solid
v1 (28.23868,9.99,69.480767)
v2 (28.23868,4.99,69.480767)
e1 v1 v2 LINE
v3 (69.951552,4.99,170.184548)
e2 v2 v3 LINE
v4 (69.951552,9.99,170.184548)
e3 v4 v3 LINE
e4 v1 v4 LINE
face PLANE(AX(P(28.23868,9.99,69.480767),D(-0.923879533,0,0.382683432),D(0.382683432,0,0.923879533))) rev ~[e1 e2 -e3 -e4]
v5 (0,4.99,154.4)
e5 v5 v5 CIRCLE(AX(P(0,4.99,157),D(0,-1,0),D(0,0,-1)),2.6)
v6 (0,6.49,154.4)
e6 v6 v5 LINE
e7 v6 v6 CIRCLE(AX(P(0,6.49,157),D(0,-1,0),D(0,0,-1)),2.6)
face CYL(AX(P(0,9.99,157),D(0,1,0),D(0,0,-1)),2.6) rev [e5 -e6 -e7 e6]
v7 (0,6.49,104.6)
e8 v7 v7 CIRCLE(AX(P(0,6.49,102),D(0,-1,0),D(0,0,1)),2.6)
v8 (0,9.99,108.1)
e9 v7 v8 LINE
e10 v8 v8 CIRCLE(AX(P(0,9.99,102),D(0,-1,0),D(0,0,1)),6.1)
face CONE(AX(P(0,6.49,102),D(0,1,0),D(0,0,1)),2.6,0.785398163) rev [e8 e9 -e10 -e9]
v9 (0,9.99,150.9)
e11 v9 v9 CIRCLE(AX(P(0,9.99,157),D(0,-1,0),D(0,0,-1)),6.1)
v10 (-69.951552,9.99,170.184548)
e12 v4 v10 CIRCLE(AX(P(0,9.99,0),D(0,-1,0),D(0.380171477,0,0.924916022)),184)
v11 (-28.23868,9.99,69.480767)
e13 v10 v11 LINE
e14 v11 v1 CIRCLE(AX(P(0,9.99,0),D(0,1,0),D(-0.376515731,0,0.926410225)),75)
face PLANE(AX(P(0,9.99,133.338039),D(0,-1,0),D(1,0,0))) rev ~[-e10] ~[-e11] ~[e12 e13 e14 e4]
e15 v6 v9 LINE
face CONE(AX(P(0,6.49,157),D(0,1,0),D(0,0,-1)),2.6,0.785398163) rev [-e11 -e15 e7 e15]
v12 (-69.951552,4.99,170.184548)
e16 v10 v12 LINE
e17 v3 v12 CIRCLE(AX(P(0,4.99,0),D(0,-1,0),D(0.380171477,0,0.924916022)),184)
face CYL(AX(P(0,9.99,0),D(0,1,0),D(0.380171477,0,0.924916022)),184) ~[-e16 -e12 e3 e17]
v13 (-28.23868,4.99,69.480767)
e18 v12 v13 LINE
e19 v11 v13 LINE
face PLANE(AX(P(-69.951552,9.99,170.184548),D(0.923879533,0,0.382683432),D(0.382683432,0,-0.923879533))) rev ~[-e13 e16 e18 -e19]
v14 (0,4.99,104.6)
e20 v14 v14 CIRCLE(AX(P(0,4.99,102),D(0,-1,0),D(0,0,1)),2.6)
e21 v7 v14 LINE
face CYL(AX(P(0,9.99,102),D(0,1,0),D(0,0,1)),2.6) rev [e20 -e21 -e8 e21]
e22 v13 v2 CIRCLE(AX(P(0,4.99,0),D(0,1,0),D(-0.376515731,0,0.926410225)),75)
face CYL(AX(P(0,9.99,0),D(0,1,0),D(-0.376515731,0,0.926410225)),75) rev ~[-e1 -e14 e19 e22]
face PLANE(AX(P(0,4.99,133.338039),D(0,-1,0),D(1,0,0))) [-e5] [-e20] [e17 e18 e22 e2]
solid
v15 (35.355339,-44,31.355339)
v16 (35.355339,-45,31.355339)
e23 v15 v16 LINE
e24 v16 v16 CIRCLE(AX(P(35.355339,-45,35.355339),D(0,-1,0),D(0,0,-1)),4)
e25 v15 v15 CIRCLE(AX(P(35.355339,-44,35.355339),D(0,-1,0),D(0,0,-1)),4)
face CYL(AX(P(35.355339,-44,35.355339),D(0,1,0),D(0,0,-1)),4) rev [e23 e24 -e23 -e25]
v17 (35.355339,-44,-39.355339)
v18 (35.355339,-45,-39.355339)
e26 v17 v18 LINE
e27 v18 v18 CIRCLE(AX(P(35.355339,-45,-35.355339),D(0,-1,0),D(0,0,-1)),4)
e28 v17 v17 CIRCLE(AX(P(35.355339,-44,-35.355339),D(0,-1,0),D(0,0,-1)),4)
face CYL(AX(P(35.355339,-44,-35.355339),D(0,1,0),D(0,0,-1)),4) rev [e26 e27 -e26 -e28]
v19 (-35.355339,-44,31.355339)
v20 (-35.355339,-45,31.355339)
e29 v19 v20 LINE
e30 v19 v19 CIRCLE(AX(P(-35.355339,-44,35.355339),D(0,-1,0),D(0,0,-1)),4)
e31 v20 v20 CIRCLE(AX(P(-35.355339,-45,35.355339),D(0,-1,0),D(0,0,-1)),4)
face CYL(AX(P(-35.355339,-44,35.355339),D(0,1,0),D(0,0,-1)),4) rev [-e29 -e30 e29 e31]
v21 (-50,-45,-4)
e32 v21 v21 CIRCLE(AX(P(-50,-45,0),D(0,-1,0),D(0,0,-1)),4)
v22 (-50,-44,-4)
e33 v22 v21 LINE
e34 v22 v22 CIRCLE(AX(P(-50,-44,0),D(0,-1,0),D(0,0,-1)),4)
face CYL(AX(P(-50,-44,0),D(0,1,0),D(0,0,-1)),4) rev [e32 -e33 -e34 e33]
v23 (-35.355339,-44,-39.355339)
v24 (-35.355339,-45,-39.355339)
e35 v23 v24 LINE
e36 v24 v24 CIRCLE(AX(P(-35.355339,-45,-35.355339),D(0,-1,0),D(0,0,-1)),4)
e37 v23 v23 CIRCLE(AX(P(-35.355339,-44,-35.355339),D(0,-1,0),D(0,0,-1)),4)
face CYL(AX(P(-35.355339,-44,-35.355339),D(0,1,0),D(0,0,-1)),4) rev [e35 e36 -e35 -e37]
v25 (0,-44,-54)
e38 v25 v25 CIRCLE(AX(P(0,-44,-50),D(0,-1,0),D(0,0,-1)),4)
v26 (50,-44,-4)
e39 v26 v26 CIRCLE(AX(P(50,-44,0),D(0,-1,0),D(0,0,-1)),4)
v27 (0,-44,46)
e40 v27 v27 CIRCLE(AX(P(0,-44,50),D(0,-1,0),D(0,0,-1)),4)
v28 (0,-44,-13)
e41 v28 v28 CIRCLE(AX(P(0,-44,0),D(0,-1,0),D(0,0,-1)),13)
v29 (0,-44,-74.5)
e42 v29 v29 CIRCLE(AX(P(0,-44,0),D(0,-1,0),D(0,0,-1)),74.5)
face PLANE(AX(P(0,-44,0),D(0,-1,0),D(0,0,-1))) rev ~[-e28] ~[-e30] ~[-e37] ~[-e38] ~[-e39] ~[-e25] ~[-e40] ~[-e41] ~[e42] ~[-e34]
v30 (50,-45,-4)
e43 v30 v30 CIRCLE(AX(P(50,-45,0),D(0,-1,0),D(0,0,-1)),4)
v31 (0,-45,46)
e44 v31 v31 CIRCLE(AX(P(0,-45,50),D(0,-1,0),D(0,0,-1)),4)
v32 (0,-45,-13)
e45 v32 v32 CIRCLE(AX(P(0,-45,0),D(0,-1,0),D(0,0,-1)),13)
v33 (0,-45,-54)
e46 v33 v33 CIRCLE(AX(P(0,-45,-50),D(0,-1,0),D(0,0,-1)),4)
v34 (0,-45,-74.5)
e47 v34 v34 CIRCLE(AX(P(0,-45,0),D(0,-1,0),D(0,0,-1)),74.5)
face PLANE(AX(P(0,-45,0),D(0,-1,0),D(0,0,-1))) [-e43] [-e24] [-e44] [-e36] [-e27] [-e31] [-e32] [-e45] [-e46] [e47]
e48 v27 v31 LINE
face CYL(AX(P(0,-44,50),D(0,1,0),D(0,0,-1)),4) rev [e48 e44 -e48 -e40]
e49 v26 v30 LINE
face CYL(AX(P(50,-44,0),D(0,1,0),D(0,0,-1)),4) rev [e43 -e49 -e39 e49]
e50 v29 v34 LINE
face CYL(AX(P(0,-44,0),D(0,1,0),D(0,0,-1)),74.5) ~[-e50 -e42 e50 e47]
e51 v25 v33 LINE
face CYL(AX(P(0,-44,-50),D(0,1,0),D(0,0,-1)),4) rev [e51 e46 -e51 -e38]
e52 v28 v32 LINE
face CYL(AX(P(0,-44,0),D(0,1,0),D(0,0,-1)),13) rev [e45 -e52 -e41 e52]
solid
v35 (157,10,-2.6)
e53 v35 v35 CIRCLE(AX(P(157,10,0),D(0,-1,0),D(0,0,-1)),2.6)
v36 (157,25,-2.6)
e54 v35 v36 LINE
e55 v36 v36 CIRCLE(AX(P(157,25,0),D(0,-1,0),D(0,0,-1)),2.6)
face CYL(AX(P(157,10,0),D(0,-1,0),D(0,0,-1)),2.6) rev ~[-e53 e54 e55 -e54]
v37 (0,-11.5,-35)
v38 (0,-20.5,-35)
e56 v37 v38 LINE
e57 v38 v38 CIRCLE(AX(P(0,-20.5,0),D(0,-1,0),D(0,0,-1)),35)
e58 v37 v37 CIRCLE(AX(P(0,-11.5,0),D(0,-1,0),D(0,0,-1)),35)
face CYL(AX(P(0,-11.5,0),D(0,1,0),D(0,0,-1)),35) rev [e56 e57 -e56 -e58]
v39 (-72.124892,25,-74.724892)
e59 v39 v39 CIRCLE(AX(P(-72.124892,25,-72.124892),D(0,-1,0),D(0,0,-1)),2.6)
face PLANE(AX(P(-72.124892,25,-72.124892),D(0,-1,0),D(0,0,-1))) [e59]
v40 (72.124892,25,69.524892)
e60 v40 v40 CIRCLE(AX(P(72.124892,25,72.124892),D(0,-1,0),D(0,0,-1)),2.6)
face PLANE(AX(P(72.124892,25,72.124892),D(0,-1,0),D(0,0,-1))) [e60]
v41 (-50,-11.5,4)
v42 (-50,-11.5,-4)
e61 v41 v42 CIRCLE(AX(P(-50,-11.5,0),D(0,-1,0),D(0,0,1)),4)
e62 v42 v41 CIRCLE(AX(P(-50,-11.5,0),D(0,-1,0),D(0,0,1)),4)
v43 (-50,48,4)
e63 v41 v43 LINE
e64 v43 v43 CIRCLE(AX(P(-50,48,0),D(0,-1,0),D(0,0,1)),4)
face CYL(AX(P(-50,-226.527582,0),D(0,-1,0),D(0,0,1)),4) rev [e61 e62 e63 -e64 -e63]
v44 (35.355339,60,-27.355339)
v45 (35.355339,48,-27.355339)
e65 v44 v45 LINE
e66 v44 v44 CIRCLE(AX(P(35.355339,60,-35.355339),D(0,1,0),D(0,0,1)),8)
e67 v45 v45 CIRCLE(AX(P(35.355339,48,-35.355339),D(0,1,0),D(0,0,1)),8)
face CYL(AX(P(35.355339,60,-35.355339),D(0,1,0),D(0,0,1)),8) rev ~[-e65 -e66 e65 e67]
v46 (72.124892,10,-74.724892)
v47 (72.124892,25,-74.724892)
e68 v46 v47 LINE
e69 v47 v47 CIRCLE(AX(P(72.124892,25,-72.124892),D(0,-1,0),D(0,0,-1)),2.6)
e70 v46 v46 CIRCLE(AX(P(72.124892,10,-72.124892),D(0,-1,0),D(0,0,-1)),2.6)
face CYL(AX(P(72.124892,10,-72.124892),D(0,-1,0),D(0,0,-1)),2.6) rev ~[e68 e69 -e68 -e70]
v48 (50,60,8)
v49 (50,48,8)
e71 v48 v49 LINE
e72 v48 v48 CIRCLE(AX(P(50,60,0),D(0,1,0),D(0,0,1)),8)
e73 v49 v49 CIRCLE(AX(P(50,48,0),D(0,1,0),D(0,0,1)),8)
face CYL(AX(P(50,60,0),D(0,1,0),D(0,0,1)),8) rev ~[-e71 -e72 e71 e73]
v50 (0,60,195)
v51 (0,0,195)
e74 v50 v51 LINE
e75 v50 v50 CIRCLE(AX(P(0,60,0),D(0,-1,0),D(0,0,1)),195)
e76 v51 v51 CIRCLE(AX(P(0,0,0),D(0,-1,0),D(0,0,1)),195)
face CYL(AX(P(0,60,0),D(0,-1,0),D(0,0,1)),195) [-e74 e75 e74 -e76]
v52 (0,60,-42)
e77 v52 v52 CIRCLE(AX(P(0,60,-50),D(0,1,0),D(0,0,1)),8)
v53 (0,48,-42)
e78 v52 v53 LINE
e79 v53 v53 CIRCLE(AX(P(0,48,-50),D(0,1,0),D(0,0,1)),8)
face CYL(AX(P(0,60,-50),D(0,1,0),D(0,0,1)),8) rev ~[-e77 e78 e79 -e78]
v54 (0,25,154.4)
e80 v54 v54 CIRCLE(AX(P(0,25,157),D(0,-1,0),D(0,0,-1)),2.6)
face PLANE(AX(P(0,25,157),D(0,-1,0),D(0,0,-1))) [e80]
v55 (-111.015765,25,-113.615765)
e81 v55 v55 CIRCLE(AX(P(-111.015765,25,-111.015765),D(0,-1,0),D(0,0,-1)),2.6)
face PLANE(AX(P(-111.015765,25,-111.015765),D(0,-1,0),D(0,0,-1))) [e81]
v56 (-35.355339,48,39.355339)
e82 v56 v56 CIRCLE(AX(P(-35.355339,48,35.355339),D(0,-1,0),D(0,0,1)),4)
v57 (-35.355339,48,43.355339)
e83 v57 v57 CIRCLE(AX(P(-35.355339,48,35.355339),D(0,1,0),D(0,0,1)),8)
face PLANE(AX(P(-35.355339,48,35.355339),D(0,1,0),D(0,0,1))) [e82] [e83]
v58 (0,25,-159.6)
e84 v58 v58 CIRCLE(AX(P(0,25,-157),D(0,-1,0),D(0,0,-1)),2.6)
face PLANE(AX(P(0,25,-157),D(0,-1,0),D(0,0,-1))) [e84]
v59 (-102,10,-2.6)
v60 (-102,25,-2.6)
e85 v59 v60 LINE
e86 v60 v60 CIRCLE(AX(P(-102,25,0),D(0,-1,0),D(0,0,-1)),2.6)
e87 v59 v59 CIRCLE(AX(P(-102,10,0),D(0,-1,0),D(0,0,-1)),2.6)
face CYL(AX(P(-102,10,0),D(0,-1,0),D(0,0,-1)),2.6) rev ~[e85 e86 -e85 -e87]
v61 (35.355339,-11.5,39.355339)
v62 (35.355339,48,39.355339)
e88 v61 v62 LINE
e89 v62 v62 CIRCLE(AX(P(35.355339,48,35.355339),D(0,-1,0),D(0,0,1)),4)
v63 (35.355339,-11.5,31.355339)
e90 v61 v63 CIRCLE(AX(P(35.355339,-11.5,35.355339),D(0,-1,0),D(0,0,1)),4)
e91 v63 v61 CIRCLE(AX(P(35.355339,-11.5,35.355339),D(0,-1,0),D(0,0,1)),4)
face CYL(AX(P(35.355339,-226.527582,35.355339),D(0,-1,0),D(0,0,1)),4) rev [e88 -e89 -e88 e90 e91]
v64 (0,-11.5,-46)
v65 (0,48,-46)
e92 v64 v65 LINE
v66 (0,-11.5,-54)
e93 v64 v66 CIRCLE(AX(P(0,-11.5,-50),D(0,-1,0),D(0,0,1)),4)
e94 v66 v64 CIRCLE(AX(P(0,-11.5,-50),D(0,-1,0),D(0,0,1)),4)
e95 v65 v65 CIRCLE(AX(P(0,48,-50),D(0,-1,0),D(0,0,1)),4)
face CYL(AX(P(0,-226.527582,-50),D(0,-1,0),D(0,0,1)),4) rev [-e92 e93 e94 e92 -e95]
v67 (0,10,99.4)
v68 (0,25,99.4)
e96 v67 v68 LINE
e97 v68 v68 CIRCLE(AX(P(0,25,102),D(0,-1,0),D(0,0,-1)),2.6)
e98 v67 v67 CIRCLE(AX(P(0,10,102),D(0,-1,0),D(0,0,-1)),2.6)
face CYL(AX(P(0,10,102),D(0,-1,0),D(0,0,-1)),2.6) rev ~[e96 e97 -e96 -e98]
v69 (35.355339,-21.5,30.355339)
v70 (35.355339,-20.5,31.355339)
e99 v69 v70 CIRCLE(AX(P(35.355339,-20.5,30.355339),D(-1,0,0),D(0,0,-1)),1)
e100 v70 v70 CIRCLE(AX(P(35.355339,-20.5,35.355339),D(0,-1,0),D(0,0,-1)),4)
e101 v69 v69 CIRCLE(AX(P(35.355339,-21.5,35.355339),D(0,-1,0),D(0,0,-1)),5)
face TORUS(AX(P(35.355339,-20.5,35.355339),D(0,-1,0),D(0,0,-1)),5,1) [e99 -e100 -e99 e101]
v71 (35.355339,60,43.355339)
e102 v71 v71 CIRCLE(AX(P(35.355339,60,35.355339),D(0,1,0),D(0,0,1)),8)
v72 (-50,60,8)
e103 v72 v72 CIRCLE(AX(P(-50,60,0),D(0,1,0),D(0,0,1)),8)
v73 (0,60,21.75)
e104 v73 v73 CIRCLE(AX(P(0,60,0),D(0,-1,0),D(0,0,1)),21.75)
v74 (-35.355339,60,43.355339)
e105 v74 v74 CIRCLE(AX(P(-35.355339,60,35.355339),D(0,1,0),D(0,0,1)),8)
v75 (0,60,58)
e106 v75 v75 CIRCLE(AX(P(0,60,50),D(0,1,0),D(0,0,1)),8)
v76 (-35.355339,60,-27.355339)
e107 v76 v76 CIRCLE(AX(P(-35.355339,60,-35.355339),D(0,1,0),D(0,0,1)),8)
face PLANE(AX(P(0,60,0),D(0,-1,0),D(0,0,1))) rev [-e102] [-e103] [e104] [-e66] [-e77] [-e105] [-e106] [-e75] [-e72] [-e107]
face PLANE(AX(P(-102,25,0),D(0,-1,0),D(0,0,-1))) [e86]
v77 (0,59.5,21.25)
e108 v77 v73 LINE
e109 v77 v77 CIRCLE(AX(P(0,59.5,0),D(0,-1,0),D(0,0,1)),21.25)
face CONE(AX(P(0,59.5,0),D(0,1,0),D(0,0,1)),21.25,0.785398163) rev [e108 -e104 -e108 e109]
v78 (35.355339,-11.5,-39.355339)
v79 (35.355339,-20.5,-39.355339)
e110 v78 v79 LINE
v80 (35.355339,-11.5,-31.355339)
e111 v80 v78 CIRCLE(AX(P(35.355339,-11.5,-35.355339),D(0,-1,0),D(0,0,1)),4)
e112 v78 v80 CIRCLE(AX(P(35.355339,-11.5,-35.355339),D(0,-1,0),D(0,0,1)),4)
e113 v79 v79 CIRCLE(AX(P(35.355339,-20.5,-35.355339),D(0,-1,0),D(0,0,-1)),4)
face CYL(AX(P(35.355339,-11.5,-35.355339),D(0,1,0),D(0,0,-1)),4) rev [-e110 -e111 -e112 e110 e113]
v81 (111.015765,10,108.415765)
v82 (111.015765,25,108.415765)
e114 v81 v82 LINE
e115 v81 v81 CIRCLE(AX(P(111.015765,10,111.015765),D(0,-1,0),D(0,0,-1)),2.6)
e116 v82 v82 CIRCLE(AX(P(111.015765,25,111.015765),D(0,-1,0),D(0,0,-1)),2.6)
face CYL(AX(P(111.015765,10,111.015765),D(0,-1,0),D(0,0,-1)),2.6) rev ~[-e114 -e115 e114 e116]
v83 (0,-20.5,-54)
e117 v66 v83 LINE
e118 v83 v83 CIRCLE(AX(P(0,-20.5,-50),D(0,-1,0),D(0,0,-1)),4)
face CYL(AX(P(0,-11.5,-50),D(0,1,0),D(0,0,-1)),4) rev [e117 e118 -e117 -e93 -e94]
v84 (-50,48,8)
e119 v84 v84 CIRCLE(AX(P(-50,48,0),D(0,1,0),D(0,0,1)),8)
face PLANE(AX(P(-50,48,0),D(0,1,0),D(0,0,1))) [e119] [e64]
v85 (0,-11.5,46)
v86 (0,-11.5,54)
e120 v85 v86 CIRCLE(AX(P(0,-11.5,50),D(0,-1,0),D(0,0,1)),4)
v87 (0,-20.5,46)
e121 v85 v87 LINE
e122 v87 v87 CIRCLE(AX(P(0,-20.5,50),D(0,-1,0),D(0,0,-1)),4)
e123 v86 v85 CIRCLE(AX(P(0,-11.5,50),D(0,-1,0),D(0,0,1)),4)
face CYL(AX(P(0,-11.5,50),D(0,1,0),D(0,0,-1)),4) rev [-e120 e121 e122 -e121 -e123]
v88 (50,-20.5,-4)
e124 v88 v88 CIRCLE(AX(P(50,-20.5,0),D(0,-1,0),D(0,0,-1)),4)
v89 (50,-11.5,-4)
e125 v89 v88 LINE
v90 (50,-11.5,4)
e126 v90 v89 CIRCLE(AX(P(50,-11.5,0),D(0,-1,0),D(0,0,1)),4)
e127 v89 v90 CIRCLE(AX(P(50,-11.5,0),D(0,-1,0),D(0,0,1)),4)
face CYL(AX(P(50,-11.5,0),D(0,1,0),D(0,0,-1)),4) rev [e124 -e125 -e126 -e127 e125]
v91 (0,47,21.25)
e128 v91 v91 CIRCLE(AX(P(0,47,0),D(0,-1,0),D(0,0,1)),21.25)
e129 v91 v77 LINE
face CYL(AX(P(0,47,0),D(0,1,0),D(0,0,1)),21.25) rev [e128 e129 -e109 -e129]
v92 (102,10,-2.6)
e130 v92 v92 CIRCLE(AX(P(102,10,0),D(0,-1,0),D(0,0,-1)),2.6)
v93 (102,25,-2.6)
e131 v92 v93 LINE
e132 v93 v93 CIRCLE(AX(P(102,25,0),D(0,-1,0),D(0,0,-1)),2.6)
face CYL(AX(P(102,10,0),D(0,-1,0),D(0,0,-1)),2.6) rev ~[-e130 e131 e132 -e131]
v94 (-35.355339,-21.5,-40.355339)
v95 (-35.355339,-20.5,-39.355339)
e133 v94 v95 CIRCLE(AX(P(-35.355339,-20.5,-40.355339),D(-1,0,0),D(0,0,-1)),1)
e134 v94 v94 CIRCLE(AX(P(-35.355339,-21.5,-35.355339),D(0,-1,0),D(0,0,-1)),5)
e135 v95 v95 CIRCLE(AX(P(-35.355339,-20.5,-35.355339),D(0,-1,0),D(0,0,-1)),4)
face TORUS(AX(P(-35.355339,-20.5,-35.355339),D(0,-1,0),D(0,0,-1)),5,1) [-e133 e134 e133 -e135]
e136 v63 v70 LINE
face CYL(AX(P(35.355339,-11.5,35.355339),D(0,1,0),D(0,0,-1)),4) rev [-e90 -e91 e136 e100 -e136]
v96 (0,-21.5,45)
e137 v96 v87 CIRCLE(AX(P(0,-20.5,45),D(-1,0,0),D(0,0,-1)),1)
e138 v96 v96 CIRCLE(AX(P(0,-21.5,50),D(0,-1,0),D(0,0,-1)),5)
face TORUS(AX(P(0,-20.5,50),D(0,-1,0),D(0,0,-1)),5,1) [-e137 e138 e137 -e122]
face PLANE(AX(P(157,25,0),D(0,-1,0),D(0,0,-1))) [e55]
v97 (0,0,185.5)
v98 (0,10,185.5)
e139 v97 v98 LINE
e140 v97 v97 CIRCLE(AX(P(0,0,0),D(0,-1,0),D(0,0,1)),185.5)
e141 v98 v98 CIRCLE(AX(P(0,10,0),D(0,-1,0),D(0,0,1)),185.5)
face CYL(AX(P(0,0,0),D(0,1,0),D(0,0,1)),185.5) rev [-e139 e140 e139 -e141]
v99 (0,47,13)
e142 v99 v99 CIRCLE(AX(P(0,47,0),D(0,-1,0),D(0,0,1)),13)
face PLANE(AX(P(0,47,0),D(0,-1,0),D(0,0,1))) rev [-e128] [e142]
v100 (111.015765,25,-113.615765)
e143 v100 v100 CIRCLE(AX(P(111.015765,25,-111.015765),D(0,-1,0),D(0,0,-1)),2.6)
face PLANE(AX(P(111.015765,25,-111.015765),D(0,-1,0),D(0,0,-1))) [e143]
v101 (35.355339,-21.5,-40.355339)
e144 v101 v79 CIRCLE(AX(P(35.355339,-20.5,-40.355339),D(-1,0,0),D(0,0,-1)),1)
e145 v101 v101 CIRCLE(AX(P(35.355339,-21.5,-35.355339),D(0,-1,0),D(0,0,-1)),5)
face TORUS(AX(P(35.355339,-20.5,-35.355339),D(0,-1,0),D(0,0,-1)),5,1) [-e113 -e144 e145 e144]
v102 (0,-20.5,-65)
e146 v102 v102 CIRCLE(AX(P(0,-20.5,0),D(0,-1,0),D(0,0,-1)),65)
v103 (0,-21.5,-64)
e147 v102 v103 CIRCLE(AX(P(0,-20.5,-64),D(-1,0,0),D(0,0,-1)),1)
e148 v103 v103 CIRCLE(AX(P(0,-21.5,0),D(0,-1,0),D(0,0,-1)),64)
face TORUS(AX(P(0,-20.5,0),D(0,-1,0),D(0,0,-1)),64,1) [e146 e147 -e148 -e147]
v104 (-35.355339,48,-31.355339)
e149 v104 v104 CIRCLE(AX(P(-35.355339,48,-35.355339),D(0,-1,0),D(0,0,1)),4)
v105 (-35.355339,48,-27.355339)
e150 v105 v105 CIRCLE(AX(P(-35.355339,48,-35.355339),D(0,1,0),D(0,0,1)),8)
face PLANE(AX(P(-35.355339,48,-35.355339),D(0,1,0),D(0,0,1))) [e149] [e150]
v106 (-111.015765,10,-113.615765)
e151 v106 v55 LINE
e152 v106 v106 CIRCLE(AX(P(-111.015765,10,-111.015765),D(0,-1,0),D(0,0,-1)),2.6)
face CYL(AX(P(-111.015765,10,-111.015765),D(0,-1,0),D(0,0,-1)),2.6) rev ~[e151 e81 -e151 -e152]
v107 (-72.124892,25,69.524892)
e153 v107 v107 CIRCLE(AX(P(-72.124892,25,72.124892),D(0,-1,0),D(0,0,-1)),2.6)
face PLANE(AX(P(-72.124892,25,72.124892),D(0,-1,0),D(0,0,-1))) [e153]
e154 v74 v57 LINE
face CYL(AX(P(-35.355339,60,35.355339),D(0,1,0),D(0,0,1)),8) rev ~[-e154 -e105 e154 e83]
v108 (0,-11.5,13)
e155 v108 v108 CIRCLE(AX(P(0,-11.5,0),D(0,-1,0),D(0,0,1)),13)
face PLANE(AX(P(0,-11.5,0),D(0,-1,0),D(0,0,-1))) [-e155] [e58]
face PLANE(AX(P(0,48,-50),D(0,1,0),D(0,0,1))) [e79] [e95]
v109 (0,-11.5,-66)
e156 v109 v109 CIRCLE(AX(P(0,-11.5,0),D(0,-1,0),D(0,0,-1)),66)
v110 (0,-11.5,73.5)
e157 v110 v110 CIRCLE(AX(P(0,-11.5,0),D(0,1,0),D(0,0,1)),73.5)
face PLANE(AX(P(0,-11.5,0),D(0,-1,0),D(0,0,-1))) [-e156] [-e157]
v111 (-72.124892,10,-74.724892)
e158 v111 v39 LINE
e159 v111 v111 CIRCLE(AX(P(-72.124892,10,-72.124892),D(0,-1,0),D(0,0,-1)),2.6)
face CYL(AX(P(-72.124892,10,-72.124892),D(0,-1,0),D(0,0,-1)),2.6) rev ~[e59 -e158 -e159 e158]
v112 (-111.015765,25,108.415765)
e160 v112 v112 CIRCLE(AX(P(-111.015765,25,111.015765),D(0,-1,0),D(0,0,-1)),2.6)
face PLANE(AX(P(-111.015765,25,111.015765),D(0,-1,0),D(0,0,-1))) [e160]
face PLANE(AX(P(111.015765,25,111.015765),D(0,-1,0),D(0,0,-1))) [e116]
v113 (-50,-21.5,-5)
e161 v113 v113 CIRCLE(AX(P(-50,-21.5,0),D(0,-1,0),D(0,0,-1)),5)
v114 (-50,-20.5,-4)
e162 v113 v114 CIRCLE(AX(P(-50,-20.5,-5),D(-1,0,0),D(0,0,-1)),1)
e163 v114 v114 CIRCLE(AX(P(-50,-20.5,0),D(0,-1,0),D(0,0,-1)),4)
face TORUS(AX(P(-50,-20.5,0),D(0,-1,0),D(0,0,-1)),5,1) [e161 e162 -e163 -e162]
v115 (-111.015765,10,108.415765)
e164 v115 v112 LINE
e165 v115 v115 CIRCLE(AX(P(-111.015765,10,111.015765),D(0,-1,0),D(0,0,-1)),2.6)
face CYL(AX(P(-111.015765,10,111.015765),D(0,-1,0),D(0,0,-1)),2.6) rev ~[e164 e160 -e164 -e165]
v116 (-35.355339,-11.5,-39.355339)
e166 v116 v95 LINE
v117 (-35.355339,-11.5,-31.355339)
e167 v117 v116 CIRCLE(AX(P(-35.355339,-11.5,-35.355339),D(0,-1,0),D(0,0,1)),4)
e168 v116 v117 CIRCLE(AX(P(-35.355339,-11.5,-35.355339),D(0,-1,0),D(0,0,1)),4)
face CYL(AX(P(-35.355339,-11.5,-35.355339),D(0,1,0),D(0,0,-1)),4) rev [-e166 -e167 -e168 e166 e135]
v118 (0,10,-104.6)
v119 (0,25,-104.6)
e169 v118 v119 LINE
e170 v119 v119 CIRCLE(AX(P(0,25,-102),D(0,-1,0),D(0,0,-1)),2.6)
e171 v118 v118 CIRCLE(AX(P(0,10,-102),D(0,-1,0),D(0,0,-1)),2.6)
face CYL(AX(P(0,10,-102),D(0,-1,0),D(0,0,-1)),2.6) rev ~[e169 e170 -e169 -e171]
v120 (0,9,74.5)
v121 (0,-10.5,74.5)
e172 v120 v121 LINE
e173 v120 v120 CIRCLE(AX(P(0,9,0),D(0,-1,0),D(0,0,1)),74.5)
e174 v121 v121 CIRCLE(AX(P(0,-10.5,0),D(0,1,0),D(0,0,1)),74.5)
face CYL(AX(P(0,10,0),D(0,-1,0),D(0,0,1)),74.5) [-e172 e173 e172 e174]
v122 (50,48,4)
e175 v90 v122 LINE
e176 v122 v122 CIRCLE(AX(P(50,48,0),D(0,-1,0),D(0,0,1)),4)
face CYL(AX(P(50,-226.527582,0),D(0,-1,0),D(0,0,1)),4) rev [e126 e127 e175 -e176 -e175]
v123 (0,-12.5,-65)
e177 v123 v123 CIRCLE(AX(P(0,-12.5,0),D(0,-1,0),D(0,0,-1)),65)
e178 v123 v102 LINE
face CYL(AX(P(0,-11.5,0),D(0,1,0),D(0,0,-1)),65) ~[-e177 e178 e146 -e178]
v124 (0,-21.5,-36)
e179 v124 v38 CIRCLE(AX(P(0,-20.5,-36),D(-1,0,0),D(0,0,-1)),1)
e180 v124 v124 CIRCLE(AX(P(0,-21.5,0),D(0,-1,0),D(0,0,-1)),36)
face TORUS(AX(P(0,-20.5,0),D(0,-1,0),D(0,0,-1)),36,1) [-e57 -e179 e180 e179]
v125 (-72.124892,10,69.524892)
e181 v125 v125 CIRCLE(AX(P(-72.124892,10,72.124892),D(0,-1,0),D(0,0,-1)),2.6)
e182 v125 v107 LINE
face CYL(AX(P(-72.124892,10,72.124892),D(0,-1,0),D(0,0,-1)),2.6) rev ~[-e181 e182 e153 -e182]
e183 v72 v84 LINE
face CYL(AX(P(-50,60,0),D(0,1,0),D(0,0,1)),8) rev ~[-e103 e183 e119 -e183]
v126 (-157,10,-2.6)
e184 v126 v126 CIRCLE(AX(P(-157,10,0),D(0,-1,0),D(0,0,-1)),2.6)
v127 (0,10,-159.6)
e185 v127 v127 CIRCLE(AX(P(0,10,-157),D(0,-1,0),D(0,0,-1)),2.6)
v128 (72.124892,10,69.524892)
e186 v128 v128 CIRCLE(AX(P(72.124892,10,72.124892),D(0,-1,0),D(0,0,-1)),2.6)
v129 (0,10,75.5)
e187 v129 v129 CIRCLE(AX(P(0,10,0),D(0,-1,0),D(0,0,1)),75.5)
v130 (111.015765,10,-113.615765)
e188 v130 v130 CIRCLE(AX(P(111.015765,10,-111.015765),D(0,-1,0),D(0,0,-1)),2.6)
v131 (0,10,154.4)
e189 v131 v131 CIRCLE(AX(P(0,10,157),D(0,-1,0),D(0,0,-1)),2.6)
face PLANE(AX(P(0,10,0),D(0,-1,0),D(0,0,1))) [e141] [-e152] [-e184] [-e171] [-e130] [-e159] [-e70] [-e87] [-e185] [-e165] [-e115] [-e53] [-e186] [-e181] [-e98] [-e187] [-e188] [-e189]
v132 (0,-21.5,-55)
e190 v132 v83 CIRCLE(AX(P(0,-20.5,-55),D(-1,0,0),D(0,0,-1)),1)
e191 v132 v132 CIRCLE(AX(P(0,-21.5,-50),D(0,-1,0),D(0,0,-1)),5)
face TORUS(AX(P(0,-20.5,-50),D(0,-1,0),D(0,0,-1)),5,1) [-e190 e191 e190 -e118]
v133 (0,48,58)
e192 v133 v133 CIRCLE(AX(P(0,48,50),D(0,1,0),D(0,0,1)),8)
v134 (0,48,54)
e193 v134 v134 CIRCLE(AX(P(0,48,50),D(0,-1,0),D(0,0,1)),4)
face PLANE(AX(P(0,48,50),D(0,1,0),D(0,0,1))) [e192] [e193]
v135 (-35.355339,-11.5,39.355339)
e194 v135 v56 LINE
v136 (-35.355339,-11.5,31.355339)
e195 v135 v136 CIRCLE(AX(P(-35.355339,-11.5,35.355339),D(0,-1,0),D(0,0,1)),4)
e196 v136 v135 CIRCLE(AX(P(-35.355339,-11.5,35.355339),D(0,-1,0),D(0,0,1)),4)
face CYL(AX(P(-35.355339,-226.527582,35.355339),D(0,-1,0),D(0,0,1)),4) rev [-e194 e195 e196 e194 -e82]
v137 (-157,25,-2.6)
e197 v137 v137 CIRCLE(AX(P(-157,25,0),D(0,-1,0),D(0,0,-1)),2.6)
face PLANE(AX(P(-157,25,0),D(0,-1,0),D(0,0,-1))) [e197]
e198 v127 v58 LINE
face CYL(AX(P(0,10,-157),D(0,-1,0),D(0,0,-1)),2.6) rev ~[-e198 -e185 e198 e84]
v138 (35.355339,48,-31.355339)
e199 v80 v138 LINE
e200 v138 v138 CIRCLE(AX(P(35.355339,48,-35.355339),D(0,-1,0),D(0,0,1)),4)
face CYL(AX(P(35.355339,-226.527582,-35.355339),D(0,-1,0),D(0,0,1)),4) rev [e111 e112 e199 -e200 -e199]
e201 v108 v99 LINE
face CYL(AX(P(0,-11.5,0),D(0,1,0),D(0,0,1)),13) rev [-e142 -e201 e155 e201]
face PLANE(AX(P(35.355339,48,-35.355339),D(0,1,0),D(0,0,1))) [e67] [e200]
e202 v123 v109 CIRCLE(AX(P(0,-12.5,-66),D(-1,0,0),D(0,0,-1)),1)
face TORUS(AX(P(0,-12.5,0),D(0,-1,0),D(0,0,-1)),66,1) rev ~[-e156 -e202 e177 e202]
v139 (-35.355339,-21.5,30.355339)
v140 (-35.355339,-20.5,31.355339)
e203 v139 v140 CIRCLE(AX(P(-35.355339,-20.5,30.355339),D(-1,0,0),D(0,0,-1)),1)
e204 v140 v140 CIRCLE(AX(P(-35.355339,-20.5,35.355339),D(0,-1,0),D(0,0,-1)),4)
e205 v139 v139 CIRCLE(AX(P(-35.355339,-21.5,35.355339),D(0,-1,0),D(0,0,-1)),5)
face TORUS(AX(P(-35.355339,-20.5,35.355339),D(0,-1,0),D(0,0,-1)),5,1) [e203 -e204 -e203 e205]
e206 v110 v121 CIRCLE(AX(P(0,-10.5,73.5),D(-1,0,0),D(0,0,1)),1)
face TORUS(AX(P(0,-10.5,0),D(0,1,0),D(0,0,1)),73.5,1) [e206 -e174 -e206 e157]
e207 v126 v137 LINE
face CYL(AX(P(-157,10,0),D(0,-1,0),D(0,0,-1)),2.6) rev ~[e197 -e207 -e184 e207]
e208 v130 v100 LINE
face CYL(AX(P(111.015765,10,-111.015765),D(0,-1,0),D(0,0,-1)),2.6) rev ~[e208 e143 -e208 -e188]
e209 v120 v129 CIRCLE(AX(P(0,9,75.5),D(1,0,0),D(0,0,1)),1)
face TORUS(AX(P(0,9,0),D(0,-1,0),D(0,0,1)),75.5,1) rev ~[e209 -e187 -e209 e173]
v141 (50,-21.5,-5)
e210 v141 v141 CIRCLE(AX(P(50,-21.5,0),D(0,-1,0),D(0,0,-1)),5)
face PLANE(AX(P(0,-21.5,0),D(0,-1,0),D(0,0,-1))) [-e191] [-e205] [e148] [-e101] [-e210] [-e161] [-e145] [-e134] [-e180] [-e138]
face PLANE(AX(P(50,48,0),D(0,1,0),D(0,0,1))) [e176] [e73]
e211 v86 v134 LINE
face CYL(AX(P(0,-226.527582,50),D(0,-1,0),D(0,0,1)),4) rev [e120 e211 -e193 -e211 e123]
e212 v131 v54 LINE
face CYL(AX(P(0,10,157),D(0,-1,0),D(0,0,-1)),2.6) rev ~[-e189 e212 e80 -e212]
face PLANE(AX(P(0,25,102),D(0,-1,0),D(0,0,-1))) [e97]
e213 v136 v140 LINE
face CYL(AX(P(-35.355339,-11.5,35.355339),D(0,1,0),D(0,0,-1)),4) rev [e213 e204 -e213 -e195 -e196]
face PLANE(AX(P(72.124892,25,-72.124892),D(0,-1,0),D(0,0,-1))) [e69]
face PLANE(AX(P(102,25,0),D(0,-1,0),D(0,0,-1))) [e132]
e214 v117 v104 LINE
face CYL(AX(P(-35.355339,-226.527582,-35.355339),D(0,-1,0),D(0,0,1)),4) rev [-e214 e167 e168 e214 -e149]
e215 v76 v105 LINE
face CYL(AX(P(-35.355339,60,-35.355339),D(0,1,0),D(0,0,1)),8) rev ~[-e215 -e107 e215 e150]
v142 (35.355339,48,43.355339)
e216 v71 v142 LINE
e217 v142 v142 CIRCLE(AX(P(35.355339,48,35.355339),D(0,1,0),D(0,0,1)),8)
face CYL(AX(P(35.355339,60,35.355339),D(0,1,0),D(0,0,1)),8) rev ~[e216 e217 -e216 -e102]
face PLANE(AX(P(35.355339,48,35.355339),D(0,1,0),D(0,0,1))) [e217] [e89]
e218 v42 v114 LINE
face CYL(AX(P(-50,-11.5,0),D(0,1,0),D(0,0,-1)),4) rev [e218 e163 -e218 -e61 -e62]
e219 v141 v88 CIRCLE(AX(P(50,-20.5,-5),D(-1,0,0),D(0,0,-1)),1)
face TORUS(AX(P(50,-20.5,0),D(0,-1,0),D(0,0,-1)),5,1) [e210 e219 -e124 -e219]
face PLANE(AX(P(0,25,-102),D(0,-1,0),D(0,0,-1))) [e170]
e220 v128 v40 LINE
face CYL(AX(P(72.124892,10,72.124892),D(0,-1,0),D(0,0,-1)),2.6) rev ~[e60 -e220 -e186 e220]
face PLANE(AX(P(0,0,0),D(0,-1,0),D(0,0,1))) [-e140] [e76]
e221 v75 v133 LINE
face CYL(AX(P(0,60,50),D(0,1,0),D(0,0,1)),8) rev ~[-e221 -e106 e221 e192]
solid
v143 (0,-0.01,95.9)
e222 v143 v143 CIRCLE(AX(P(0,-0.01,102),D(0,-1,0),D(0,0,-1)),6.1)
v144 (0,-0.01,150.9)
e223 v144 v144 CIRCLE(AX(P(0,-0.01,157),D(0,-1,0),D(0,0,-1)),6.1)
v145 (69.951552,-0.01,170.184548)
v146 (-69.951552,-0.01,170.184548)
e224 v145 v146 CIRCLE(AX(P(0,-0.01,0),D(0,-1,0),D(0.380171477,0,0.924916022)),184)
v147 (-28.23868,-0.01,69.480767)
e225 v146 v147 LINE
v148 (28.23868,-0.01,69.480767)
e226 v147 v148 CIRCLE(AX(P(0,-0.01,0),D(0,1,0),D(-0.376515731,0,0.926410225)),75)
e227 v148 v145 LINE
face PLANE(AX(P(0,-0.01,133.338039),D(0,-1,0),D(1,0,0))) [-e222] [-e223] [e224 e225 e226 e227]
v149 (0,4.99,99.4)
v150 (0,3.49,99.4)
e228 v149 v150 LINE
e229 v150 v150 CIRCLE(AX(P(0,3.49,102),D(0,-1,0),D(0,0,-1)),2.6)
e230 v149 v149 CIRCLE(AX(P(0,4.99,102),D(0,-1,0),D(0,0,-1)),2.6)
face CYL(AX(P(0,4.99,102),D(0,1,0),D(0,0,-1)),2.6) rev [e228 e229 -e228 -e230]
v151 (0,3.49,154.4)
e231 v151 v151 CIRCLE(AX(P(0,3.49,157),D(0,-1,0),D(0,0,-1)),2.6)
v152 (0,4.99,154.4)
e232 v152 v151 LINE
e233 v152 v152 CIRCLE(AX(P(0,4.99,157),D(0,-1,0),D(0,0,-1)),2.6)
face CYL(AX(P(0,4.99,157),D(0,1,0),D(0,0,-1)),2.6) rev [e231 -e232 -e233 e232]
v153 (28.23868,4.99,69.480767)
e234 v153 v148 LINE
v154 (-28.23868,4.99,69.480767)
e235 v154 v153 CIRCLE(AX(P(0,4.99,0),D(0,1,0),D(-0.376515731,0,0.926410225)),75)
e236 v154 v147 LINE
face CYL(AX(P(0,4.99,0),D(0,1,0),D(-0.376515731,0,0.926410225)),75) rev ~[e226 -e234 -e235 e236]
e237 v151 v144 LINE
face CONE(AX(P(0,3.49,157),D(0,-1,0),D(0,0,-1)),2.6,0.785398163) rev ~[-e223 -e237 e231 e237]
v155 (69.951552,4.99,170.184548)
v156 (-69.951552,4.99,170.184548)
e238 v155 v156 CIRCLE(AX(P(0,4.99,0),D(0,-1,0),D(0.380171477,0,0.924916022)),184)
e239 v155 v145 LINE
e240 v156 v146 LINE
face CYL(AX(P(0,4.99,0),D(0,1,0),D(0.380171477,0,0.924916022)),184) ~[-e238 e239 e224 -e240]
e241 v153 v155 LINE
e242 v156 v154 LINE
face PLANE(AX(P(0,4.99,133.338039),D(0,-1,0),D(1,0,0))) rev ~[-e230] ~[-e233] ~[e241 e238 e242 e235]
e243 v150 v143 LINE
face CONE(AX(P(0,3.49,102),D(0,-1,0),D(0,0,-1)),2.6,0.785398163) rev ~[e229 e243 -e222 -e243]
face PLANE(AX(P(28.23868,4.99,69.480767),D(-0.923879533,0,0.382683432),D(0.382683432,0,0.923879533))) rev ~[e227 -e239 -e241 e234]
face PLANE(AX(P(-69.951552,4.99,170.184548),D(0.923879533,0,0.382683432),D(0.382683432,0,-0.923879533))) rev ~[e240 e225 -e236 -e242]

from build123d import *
from build123d.topology import SkipClean

# Parameters (mm, degrees)
CUT_EXTRUDE1_DEPTH      = 286.527581855
CUT_EXTRUDE1_DEPTH_BACK = 286.527581855
SKETCH2_R               = 4
SKETCH4_R               = 8
CUT_EXTRUDE3_DEPTH      = 12
BOSS_EXTRUDE1_START     = 30
SKETCH5_R               = 74.5
SKETCH5_R_2             = 4
SKETCH5_R_3             = 13
BOSS_EXTRUDE1_DEPTH     = 1
SKETCH6_R               = 74.5
CUT_EXTRUDE4_DEPTH      = 2.5
BOSS_EXTRUDE3_START     = 0.01
SKETCH7_R               = 2.6
BOSS_EXTRUDE3_DEPTH     = 5
SKETCH8_R               = 2.6
BOSS_EXTRUDE4_DEPTH     = 5
CHAMFER3_SIZE           = 3.5
CHAMFER4_SIZE           = 3.5
SKETCH9_R               = 2.6
CUT_EXTRUDE5_DEPTH      = 15
SKETCH10_R              = 65
SKETCH10_R_2            = 35
SKETCH10_R_3            = 4
BOSS_EXTRUDE5_DEPTH     = 10
FILLET1_R               = 1


with BuildPart() as part:
    # Sketch1 → Revolve1 (revolve)
    with BuildSketch(Plane(origin=(0, 0, 0), x_dir=(0, 0, -1), z_dir=(1, 0, 0))):
        Polygon((-195, 60), (-195, 0), (-185.5, 0), (-185.5, 10), (-74.5, 10), (-74.5, 0), (-74.5, -14), (-15.5, -14), (-13, -11.5), (-13, 47), (-21.25, 47), (-21.25, 59.5), (-21.75, 60), (-74.5, 60), (-185.5, 60), align=None)
    revolve(axis=Axis((0, -14, 0), (0, -1, 0)))

    # Sketch2 → Cut-Extrude1 (cut, two sides: drawn at the far end of the back side and taken through both)
    with BuildSketch(Plane(origin=(0, 60, 0), x_dir=(1, 0, 0), z_dir=(0, 1, 0)).offset(-CUT_EXTRUDE1_DEPTH_BACK)):
        with Locations(Location((-50, 0, 0), (0, 0, 270))):
            Circle(SKETCH2_R)
        with Locations(Location((-35.355339059, 35.355339059, 0), (0, 0, 270))):
            Circle(SKETCH2_R)
        with Locations(Location((0, 50, 0), (0, 0, 270))):
            Circle(SKETCH2_R)
        with Locations(Location((35.355339059, 35.355339059, 0), (0, 0, 270))):
            Circle(SKETCH2_R)
        with Locations(Location((50, 0, 0), (0, 0, 270))):
            Circle(SKETCH2_R)
        with Locations(Location((35.355339059, -35.355339059, 0), (0, 0, 270))):
            Circle(SKETCH2_R)
        with Locations(Location((0, -50, 0), (0, 0, 270))):
            Circle(SKETCH2_R)
        with Locations(Location((-35.355339059, -35.355339059, 0), (0, 0, 270))):
            Circle(SKETCH2_R)
    extrude(amount=CUT_EXTRUDE1_DEPTH + CUT_EXTRUDE1_DEPTH_BACK, mode=Mode.SUBTRACT)

    # Sketch4 → Cut-Extrude3 (cut)
    with BuildSketch(Plane(origin=(0, 60, 0), x_dir=(1, 0, 0), z_dir=(0, 1, 0))):
        with Locations(Location((0, 50, 0), (0, 0, 270))):
            Circle(SKETCH4_R)
        with Locations(Location((35.355339059, 35.355339059, 0), (0, 0, 270))):
            Circle(SKETCH4_R)
        with Locations(Location((50, 0, 0), (0, 0, 270))):
            Circle(SKETCH4_R)
        with Locations(Location((35.355339059, -35.355339059, 0), (0, 0, 270))):
            Circle(SKETCH4_R)
        with Locations(Location((0, -50, 0), (0, 0, 270))):
            Circle(SKETCH4_R)
        with Locations(Location((-35.355339059, -35.355339059, 0), (0, 0, 270))):
            Circle(SKETCH4_R)
        with Locations(Location((-50, 0, 0), (0, 0, 270))):
            Circle(SKETCH4_R)
        with Locations(Location((-35.355339059, 35.355339059, 0), (0, 0, 270))):
            Circle(SKETCH4_R)
    extrude(amount=-CUT_EXTRUDE3_DEPTH, mode=Mode.SUBTRACT)

    # Sketch6 → Cut-Extrude4 (cut)
    with BuildSketch(Plane.XZ.offset(14)):
        with Locations(Location((0, 0, 0), (0, 0, 270))):
            Circle(SKETCH6_R)
    extrude(amount=-CUT_EXTRUDE4_DEPTH, mode=Mode.SUBTRACT)

    # Sketch9 → Cut-Extrude5 (cut)
    with BuildSketch(Plane.XZ.offset(-10)):
        with Locations(Location((0, 157, 0), (0, 0, 270))):
            Circle(SKETCH9_R)
        with Locations(Location((0, 102, 0), (0, 0, 270))):
            Circle(SKETCH9_R)
        with Locations(Location((111.015764646, 111.015764646, 0), (0, 0, 270))):
            Circle(SKETCH9_R)
        with Locations(Location((72.124891681, 72.124891681, 0), (0, 0, 270))):
            Circle(SKETCH9_R)
        with Locations(Location((157, 0, 0), (0, 0, 270))):
            Circle(SKETCH9_R)
        with Locations(Location((102, 0, 0), (0, 0, 270))):
            Circle(SKETCH9_R)
        with Locations(Location((111.015764646, -111.015764646, 0), (0, 0, 270))):
            Circle(SKETCH9_R)
        with Locations(Location((72.124891681, -72.124891681, 0), (0, 0, 270))):
            Circle(SKETCH9_R)
        with Locations(Location((0, -157, 0), (0, 0, 270))):
            Circle(SKETCH9_R)
        with Locations(Location((0, -102, 0), (0, 0, 270))):
            Circle(SKETCH9_R)
        with Locations(Location((-111.015764646, -111.015764646, 0), (0, 0, 270))):
            Circle(SKETCH9_R)
        with Locations(Location((-72.124891681, -72.124891681, 0), (0, 0, 270))):
            Circle(SKETCH9_R)
        with Locations(Location((-157, 0, 0), (0, 0, 270))):
            Circle(SKETCH9_R)
        with Locations(Location((-102, 0, 0), (0, 0, 270))):
            Circle(SKETCH9_R)
        with Locations(Location((-111.015764646, 111.015764646, 0), (0, 0, 270))):
            Circle(SKETCH9_R)
        with Locations(Location((-72.124891681, 72.124891681, 0), (0, 0, 270))):
            Circle(SKETCH9_R)
    extrude(amount=-CUT_EXTRUDE5_DEPTH, mode=Mode.SUBTRACT)

    # Sketch10 → Boss-Extrude5 (add)
    with SkipClean():  # the faces are left unmerged after this step: merging them gives an invalid solid
        with BuildSketch(Plane.XZ.offset(11.5)):
            with Locations(Location((0, 0, 0), (0, 0, 270))):
                Circle(SKETCH10_R)
            with Locations(Location((0, 0, 0), (0, 0, 270))):
                Circle(SKETCH10_R_2, mode=Mode.SUBTRACT)
            with Locations(Location((50, 0, 0), (0, 0, 270))):
                Circle(SKETCH10_R_3, mode=Mode.SUBTRACT)
            with Locations(Location((35.355339059, -35.355339059, 0), (0, 0, 270))):
                Circle(SKETCH10_R_3, mode=Mode.SUBTRACT)
            with Locations(Location((0, -50, 0), (0, 0, 270))):
                Circle(SKETCH10_R_3, mode=Mode.SUBTRACT)
            with Locations(Location((-35.355339059, -35.355339059, 0), (0, 0, 270))):
                Circle(SKETCH10_R_3, mode=Mode.SUBTRACT)
            with Locations(Location((-50, 0, 0), (0, 0, 270))):
                Circle(SKETCH10_R_3, mode=Mode.SUBTRACT)
            with Locations(Location((-35.355339059, 35.355339059, 0), (0, 0, 270))):
                Circle(SKETCH10_R_3, mode=Mode.SUBTRACT)
            with Locations(Location((0, 50, 0), (0, 0, 270))):
                Circle(SKETCH10_R_3, mode=Mode.SUBTRACT)
            with Locations(Location((35.355339059, 35.355339059, 0), (0, 0, 270))):
                Circle(SKETCH10_R_3, mode=Mode.SUBTRACT)
        extrude(amount=BOSS_EXTRUDE5_DEPTH)

    # Fillet1
    fillet1_edges = [part.edges().sort_by_distance(p)[0] for p in [
        (0, -11.5, -74.5),
        (0, 10, -74.5),
        (0, -11.5, 65),
        (0, -21.5, 65),
        (0, -21.5, 35),
        (50, -21.5, 4),
        (35.355339059, -21.5, -31.355339059),
        (0, -21.5, -46),
        (-35.355339059, -21.5, -31.355339059),
        (-50, -21.5, 4),
        (-35.355339059, -21.5, 39.355339059),
        (0, -21.5, 54),
        (35.355339059, -21.5, 39.355339059),
    ]]
    fillet(fillet1_edges, radius=FILLET1_R)


with BuildPart() as body_2:
    # Sketch5 → Boss-Extrude1 (new body)
    with BuildSketch(Plane.XZ.offset(14).offset(BOSS_EXTRUDE1_START)):
        with Locations(Location((0, 0, 0), (0, 0, 270))):
            Circle(SKETCH5_R)
        with Locations(Location((35.355339059, -35.355339059, 0), (0, 0, 270))):
            Circle(SKETCH5_R_2, mode=Mode.SUBTRACT)
        with Locations(Location((0, -50, 0), (0, 0, 270))):
            Circle(SKETCH5_R_2, mode=Mode.SUBTRACT)
        with Locations(Location((-35.355339059, -35.355339059, 0), (0, 0, 270))):
            Circle(SKETCH5_R_2, mode=Mode.SUBTRACT)
        with Locations(Location((-50, 0, 0), (0, 0, 270))):
            Circle(SKETCH5_R_2, mode=Mode.SUBTRACT)
        with Locations(Location((50, 0, 0), (0, 0, 270))):
            Circle(SKETCH5_R_2, mode=Mode.SUBTRACT)
        with Locations(Location((35.355339059, 35.355339059, 0), (0, 0, 270))):
            Circle(SKETCH5_R_2, mode=Mode.SUBTRACT)
        with Locations(Location((-35.355339059, 35.355339059, 0), (0, 0, 270))):
            Circle(SKETCH5_R_2, mode=Mode.SUBTRACT)
        with Locations(Location((0, 50, 0), (0, 0, 270))):
            Circle(SKETCH5_R_2, mode=Mode.SUBTRACT)
        with Locations(Location((0, 0, 0), (0, 0, 270))):
            Circle(SKETCH5_R_3, mode=Mode.SUBTRACT)
    extrude(amount=BOSS_EXTRUDE1_DEPTH)


with BuildPart() as body_3:
    # Sketch7 → Boss-Extrude3 (new body)
    with BuildSketch(Plane.XZ.offset(-10).offset(BOSS_EXTRUDE3_START)):
        with BuildLine():
            Line((28.238679848, 69.480766838), (69.951551813, 170.184548062))
            ThreePointArc((69.951551813, 170.184548062), (0, 184), (-69.951551813, 170.184548062))
            Line((-69.951551813, 170.184548062), (-28.238679848, 69.480766838))
            ThreePointArc((-28.238679848, 69.480766838), (0, 75), (28.238679848, 69.480766838))
        make_face()
        with Locations(Location((0, 157, 0), (0, 0, 270))):
            Circle(SKETCH7_R, mode=Mode.SUBTRACT)
        with Locations(Location((0, 102, 0), (0, 0, 90))):
            Circle(SKETCH7_R, mode=Mode.SUBTRACT)
    extrude(amount=BOSS_EXTRUDE3_DEPTH)

    # Chamfer4
    chamfer4_edges = [body_3.edges().sort_by_distance(p)[0] for p in [
        (0, 9.99, 159.6),
        (0, 9.99, 99.4),
    ]]
    chamfer(chamfer4_edges, length=CHAMFER4_SIZE)


with BuildPart() as body_4:
    # Sketch8 → Boss-Extrude4 (new body)
    with BuildSketch(Plane.XZ.offset(-4.99)):
        with BuildLine():
            Line((28.238679848, 69.480766838), (69.951551813, 170.184548062))
            ThreePointArc((69.951551813, 170.184548062), (0, 184), (-69.951551813, 170.184548062))
            Line((-69.951551813, 170.184548062), (-28.238679848, 69.480766838))
            ThreePointArc((-28.238679848, 69.480766838), (0, 75), (28.238679848, 69.480766838))
        make_face()
        with Locations(Location((0, 102, 0), (0, 0, 270))):
            Circle(SKETCH8_R, mode=Mode.SUBTRACT)
        with Locations(Location((0, 157, 0), (0, 0, 270))):
            Circle(SKETCH8_R, mode=Mode.SUBTRACT)
    extrude(amount=BOSS_EXTRUDE4_DEPTH)

    # Chamfer3
    chamfer3_edges = [body_4.edges().sort_by_distance(p)[0] for p in [
        (0, -0.01, 104.6),
        (0, -0.01, 159.6),
    ]]
    chamfer(chamfer3_edges, length=CHAMFER3_SIZE)


solid = Compound([part.part, body_2.part, body_3.part, body_4.part])
